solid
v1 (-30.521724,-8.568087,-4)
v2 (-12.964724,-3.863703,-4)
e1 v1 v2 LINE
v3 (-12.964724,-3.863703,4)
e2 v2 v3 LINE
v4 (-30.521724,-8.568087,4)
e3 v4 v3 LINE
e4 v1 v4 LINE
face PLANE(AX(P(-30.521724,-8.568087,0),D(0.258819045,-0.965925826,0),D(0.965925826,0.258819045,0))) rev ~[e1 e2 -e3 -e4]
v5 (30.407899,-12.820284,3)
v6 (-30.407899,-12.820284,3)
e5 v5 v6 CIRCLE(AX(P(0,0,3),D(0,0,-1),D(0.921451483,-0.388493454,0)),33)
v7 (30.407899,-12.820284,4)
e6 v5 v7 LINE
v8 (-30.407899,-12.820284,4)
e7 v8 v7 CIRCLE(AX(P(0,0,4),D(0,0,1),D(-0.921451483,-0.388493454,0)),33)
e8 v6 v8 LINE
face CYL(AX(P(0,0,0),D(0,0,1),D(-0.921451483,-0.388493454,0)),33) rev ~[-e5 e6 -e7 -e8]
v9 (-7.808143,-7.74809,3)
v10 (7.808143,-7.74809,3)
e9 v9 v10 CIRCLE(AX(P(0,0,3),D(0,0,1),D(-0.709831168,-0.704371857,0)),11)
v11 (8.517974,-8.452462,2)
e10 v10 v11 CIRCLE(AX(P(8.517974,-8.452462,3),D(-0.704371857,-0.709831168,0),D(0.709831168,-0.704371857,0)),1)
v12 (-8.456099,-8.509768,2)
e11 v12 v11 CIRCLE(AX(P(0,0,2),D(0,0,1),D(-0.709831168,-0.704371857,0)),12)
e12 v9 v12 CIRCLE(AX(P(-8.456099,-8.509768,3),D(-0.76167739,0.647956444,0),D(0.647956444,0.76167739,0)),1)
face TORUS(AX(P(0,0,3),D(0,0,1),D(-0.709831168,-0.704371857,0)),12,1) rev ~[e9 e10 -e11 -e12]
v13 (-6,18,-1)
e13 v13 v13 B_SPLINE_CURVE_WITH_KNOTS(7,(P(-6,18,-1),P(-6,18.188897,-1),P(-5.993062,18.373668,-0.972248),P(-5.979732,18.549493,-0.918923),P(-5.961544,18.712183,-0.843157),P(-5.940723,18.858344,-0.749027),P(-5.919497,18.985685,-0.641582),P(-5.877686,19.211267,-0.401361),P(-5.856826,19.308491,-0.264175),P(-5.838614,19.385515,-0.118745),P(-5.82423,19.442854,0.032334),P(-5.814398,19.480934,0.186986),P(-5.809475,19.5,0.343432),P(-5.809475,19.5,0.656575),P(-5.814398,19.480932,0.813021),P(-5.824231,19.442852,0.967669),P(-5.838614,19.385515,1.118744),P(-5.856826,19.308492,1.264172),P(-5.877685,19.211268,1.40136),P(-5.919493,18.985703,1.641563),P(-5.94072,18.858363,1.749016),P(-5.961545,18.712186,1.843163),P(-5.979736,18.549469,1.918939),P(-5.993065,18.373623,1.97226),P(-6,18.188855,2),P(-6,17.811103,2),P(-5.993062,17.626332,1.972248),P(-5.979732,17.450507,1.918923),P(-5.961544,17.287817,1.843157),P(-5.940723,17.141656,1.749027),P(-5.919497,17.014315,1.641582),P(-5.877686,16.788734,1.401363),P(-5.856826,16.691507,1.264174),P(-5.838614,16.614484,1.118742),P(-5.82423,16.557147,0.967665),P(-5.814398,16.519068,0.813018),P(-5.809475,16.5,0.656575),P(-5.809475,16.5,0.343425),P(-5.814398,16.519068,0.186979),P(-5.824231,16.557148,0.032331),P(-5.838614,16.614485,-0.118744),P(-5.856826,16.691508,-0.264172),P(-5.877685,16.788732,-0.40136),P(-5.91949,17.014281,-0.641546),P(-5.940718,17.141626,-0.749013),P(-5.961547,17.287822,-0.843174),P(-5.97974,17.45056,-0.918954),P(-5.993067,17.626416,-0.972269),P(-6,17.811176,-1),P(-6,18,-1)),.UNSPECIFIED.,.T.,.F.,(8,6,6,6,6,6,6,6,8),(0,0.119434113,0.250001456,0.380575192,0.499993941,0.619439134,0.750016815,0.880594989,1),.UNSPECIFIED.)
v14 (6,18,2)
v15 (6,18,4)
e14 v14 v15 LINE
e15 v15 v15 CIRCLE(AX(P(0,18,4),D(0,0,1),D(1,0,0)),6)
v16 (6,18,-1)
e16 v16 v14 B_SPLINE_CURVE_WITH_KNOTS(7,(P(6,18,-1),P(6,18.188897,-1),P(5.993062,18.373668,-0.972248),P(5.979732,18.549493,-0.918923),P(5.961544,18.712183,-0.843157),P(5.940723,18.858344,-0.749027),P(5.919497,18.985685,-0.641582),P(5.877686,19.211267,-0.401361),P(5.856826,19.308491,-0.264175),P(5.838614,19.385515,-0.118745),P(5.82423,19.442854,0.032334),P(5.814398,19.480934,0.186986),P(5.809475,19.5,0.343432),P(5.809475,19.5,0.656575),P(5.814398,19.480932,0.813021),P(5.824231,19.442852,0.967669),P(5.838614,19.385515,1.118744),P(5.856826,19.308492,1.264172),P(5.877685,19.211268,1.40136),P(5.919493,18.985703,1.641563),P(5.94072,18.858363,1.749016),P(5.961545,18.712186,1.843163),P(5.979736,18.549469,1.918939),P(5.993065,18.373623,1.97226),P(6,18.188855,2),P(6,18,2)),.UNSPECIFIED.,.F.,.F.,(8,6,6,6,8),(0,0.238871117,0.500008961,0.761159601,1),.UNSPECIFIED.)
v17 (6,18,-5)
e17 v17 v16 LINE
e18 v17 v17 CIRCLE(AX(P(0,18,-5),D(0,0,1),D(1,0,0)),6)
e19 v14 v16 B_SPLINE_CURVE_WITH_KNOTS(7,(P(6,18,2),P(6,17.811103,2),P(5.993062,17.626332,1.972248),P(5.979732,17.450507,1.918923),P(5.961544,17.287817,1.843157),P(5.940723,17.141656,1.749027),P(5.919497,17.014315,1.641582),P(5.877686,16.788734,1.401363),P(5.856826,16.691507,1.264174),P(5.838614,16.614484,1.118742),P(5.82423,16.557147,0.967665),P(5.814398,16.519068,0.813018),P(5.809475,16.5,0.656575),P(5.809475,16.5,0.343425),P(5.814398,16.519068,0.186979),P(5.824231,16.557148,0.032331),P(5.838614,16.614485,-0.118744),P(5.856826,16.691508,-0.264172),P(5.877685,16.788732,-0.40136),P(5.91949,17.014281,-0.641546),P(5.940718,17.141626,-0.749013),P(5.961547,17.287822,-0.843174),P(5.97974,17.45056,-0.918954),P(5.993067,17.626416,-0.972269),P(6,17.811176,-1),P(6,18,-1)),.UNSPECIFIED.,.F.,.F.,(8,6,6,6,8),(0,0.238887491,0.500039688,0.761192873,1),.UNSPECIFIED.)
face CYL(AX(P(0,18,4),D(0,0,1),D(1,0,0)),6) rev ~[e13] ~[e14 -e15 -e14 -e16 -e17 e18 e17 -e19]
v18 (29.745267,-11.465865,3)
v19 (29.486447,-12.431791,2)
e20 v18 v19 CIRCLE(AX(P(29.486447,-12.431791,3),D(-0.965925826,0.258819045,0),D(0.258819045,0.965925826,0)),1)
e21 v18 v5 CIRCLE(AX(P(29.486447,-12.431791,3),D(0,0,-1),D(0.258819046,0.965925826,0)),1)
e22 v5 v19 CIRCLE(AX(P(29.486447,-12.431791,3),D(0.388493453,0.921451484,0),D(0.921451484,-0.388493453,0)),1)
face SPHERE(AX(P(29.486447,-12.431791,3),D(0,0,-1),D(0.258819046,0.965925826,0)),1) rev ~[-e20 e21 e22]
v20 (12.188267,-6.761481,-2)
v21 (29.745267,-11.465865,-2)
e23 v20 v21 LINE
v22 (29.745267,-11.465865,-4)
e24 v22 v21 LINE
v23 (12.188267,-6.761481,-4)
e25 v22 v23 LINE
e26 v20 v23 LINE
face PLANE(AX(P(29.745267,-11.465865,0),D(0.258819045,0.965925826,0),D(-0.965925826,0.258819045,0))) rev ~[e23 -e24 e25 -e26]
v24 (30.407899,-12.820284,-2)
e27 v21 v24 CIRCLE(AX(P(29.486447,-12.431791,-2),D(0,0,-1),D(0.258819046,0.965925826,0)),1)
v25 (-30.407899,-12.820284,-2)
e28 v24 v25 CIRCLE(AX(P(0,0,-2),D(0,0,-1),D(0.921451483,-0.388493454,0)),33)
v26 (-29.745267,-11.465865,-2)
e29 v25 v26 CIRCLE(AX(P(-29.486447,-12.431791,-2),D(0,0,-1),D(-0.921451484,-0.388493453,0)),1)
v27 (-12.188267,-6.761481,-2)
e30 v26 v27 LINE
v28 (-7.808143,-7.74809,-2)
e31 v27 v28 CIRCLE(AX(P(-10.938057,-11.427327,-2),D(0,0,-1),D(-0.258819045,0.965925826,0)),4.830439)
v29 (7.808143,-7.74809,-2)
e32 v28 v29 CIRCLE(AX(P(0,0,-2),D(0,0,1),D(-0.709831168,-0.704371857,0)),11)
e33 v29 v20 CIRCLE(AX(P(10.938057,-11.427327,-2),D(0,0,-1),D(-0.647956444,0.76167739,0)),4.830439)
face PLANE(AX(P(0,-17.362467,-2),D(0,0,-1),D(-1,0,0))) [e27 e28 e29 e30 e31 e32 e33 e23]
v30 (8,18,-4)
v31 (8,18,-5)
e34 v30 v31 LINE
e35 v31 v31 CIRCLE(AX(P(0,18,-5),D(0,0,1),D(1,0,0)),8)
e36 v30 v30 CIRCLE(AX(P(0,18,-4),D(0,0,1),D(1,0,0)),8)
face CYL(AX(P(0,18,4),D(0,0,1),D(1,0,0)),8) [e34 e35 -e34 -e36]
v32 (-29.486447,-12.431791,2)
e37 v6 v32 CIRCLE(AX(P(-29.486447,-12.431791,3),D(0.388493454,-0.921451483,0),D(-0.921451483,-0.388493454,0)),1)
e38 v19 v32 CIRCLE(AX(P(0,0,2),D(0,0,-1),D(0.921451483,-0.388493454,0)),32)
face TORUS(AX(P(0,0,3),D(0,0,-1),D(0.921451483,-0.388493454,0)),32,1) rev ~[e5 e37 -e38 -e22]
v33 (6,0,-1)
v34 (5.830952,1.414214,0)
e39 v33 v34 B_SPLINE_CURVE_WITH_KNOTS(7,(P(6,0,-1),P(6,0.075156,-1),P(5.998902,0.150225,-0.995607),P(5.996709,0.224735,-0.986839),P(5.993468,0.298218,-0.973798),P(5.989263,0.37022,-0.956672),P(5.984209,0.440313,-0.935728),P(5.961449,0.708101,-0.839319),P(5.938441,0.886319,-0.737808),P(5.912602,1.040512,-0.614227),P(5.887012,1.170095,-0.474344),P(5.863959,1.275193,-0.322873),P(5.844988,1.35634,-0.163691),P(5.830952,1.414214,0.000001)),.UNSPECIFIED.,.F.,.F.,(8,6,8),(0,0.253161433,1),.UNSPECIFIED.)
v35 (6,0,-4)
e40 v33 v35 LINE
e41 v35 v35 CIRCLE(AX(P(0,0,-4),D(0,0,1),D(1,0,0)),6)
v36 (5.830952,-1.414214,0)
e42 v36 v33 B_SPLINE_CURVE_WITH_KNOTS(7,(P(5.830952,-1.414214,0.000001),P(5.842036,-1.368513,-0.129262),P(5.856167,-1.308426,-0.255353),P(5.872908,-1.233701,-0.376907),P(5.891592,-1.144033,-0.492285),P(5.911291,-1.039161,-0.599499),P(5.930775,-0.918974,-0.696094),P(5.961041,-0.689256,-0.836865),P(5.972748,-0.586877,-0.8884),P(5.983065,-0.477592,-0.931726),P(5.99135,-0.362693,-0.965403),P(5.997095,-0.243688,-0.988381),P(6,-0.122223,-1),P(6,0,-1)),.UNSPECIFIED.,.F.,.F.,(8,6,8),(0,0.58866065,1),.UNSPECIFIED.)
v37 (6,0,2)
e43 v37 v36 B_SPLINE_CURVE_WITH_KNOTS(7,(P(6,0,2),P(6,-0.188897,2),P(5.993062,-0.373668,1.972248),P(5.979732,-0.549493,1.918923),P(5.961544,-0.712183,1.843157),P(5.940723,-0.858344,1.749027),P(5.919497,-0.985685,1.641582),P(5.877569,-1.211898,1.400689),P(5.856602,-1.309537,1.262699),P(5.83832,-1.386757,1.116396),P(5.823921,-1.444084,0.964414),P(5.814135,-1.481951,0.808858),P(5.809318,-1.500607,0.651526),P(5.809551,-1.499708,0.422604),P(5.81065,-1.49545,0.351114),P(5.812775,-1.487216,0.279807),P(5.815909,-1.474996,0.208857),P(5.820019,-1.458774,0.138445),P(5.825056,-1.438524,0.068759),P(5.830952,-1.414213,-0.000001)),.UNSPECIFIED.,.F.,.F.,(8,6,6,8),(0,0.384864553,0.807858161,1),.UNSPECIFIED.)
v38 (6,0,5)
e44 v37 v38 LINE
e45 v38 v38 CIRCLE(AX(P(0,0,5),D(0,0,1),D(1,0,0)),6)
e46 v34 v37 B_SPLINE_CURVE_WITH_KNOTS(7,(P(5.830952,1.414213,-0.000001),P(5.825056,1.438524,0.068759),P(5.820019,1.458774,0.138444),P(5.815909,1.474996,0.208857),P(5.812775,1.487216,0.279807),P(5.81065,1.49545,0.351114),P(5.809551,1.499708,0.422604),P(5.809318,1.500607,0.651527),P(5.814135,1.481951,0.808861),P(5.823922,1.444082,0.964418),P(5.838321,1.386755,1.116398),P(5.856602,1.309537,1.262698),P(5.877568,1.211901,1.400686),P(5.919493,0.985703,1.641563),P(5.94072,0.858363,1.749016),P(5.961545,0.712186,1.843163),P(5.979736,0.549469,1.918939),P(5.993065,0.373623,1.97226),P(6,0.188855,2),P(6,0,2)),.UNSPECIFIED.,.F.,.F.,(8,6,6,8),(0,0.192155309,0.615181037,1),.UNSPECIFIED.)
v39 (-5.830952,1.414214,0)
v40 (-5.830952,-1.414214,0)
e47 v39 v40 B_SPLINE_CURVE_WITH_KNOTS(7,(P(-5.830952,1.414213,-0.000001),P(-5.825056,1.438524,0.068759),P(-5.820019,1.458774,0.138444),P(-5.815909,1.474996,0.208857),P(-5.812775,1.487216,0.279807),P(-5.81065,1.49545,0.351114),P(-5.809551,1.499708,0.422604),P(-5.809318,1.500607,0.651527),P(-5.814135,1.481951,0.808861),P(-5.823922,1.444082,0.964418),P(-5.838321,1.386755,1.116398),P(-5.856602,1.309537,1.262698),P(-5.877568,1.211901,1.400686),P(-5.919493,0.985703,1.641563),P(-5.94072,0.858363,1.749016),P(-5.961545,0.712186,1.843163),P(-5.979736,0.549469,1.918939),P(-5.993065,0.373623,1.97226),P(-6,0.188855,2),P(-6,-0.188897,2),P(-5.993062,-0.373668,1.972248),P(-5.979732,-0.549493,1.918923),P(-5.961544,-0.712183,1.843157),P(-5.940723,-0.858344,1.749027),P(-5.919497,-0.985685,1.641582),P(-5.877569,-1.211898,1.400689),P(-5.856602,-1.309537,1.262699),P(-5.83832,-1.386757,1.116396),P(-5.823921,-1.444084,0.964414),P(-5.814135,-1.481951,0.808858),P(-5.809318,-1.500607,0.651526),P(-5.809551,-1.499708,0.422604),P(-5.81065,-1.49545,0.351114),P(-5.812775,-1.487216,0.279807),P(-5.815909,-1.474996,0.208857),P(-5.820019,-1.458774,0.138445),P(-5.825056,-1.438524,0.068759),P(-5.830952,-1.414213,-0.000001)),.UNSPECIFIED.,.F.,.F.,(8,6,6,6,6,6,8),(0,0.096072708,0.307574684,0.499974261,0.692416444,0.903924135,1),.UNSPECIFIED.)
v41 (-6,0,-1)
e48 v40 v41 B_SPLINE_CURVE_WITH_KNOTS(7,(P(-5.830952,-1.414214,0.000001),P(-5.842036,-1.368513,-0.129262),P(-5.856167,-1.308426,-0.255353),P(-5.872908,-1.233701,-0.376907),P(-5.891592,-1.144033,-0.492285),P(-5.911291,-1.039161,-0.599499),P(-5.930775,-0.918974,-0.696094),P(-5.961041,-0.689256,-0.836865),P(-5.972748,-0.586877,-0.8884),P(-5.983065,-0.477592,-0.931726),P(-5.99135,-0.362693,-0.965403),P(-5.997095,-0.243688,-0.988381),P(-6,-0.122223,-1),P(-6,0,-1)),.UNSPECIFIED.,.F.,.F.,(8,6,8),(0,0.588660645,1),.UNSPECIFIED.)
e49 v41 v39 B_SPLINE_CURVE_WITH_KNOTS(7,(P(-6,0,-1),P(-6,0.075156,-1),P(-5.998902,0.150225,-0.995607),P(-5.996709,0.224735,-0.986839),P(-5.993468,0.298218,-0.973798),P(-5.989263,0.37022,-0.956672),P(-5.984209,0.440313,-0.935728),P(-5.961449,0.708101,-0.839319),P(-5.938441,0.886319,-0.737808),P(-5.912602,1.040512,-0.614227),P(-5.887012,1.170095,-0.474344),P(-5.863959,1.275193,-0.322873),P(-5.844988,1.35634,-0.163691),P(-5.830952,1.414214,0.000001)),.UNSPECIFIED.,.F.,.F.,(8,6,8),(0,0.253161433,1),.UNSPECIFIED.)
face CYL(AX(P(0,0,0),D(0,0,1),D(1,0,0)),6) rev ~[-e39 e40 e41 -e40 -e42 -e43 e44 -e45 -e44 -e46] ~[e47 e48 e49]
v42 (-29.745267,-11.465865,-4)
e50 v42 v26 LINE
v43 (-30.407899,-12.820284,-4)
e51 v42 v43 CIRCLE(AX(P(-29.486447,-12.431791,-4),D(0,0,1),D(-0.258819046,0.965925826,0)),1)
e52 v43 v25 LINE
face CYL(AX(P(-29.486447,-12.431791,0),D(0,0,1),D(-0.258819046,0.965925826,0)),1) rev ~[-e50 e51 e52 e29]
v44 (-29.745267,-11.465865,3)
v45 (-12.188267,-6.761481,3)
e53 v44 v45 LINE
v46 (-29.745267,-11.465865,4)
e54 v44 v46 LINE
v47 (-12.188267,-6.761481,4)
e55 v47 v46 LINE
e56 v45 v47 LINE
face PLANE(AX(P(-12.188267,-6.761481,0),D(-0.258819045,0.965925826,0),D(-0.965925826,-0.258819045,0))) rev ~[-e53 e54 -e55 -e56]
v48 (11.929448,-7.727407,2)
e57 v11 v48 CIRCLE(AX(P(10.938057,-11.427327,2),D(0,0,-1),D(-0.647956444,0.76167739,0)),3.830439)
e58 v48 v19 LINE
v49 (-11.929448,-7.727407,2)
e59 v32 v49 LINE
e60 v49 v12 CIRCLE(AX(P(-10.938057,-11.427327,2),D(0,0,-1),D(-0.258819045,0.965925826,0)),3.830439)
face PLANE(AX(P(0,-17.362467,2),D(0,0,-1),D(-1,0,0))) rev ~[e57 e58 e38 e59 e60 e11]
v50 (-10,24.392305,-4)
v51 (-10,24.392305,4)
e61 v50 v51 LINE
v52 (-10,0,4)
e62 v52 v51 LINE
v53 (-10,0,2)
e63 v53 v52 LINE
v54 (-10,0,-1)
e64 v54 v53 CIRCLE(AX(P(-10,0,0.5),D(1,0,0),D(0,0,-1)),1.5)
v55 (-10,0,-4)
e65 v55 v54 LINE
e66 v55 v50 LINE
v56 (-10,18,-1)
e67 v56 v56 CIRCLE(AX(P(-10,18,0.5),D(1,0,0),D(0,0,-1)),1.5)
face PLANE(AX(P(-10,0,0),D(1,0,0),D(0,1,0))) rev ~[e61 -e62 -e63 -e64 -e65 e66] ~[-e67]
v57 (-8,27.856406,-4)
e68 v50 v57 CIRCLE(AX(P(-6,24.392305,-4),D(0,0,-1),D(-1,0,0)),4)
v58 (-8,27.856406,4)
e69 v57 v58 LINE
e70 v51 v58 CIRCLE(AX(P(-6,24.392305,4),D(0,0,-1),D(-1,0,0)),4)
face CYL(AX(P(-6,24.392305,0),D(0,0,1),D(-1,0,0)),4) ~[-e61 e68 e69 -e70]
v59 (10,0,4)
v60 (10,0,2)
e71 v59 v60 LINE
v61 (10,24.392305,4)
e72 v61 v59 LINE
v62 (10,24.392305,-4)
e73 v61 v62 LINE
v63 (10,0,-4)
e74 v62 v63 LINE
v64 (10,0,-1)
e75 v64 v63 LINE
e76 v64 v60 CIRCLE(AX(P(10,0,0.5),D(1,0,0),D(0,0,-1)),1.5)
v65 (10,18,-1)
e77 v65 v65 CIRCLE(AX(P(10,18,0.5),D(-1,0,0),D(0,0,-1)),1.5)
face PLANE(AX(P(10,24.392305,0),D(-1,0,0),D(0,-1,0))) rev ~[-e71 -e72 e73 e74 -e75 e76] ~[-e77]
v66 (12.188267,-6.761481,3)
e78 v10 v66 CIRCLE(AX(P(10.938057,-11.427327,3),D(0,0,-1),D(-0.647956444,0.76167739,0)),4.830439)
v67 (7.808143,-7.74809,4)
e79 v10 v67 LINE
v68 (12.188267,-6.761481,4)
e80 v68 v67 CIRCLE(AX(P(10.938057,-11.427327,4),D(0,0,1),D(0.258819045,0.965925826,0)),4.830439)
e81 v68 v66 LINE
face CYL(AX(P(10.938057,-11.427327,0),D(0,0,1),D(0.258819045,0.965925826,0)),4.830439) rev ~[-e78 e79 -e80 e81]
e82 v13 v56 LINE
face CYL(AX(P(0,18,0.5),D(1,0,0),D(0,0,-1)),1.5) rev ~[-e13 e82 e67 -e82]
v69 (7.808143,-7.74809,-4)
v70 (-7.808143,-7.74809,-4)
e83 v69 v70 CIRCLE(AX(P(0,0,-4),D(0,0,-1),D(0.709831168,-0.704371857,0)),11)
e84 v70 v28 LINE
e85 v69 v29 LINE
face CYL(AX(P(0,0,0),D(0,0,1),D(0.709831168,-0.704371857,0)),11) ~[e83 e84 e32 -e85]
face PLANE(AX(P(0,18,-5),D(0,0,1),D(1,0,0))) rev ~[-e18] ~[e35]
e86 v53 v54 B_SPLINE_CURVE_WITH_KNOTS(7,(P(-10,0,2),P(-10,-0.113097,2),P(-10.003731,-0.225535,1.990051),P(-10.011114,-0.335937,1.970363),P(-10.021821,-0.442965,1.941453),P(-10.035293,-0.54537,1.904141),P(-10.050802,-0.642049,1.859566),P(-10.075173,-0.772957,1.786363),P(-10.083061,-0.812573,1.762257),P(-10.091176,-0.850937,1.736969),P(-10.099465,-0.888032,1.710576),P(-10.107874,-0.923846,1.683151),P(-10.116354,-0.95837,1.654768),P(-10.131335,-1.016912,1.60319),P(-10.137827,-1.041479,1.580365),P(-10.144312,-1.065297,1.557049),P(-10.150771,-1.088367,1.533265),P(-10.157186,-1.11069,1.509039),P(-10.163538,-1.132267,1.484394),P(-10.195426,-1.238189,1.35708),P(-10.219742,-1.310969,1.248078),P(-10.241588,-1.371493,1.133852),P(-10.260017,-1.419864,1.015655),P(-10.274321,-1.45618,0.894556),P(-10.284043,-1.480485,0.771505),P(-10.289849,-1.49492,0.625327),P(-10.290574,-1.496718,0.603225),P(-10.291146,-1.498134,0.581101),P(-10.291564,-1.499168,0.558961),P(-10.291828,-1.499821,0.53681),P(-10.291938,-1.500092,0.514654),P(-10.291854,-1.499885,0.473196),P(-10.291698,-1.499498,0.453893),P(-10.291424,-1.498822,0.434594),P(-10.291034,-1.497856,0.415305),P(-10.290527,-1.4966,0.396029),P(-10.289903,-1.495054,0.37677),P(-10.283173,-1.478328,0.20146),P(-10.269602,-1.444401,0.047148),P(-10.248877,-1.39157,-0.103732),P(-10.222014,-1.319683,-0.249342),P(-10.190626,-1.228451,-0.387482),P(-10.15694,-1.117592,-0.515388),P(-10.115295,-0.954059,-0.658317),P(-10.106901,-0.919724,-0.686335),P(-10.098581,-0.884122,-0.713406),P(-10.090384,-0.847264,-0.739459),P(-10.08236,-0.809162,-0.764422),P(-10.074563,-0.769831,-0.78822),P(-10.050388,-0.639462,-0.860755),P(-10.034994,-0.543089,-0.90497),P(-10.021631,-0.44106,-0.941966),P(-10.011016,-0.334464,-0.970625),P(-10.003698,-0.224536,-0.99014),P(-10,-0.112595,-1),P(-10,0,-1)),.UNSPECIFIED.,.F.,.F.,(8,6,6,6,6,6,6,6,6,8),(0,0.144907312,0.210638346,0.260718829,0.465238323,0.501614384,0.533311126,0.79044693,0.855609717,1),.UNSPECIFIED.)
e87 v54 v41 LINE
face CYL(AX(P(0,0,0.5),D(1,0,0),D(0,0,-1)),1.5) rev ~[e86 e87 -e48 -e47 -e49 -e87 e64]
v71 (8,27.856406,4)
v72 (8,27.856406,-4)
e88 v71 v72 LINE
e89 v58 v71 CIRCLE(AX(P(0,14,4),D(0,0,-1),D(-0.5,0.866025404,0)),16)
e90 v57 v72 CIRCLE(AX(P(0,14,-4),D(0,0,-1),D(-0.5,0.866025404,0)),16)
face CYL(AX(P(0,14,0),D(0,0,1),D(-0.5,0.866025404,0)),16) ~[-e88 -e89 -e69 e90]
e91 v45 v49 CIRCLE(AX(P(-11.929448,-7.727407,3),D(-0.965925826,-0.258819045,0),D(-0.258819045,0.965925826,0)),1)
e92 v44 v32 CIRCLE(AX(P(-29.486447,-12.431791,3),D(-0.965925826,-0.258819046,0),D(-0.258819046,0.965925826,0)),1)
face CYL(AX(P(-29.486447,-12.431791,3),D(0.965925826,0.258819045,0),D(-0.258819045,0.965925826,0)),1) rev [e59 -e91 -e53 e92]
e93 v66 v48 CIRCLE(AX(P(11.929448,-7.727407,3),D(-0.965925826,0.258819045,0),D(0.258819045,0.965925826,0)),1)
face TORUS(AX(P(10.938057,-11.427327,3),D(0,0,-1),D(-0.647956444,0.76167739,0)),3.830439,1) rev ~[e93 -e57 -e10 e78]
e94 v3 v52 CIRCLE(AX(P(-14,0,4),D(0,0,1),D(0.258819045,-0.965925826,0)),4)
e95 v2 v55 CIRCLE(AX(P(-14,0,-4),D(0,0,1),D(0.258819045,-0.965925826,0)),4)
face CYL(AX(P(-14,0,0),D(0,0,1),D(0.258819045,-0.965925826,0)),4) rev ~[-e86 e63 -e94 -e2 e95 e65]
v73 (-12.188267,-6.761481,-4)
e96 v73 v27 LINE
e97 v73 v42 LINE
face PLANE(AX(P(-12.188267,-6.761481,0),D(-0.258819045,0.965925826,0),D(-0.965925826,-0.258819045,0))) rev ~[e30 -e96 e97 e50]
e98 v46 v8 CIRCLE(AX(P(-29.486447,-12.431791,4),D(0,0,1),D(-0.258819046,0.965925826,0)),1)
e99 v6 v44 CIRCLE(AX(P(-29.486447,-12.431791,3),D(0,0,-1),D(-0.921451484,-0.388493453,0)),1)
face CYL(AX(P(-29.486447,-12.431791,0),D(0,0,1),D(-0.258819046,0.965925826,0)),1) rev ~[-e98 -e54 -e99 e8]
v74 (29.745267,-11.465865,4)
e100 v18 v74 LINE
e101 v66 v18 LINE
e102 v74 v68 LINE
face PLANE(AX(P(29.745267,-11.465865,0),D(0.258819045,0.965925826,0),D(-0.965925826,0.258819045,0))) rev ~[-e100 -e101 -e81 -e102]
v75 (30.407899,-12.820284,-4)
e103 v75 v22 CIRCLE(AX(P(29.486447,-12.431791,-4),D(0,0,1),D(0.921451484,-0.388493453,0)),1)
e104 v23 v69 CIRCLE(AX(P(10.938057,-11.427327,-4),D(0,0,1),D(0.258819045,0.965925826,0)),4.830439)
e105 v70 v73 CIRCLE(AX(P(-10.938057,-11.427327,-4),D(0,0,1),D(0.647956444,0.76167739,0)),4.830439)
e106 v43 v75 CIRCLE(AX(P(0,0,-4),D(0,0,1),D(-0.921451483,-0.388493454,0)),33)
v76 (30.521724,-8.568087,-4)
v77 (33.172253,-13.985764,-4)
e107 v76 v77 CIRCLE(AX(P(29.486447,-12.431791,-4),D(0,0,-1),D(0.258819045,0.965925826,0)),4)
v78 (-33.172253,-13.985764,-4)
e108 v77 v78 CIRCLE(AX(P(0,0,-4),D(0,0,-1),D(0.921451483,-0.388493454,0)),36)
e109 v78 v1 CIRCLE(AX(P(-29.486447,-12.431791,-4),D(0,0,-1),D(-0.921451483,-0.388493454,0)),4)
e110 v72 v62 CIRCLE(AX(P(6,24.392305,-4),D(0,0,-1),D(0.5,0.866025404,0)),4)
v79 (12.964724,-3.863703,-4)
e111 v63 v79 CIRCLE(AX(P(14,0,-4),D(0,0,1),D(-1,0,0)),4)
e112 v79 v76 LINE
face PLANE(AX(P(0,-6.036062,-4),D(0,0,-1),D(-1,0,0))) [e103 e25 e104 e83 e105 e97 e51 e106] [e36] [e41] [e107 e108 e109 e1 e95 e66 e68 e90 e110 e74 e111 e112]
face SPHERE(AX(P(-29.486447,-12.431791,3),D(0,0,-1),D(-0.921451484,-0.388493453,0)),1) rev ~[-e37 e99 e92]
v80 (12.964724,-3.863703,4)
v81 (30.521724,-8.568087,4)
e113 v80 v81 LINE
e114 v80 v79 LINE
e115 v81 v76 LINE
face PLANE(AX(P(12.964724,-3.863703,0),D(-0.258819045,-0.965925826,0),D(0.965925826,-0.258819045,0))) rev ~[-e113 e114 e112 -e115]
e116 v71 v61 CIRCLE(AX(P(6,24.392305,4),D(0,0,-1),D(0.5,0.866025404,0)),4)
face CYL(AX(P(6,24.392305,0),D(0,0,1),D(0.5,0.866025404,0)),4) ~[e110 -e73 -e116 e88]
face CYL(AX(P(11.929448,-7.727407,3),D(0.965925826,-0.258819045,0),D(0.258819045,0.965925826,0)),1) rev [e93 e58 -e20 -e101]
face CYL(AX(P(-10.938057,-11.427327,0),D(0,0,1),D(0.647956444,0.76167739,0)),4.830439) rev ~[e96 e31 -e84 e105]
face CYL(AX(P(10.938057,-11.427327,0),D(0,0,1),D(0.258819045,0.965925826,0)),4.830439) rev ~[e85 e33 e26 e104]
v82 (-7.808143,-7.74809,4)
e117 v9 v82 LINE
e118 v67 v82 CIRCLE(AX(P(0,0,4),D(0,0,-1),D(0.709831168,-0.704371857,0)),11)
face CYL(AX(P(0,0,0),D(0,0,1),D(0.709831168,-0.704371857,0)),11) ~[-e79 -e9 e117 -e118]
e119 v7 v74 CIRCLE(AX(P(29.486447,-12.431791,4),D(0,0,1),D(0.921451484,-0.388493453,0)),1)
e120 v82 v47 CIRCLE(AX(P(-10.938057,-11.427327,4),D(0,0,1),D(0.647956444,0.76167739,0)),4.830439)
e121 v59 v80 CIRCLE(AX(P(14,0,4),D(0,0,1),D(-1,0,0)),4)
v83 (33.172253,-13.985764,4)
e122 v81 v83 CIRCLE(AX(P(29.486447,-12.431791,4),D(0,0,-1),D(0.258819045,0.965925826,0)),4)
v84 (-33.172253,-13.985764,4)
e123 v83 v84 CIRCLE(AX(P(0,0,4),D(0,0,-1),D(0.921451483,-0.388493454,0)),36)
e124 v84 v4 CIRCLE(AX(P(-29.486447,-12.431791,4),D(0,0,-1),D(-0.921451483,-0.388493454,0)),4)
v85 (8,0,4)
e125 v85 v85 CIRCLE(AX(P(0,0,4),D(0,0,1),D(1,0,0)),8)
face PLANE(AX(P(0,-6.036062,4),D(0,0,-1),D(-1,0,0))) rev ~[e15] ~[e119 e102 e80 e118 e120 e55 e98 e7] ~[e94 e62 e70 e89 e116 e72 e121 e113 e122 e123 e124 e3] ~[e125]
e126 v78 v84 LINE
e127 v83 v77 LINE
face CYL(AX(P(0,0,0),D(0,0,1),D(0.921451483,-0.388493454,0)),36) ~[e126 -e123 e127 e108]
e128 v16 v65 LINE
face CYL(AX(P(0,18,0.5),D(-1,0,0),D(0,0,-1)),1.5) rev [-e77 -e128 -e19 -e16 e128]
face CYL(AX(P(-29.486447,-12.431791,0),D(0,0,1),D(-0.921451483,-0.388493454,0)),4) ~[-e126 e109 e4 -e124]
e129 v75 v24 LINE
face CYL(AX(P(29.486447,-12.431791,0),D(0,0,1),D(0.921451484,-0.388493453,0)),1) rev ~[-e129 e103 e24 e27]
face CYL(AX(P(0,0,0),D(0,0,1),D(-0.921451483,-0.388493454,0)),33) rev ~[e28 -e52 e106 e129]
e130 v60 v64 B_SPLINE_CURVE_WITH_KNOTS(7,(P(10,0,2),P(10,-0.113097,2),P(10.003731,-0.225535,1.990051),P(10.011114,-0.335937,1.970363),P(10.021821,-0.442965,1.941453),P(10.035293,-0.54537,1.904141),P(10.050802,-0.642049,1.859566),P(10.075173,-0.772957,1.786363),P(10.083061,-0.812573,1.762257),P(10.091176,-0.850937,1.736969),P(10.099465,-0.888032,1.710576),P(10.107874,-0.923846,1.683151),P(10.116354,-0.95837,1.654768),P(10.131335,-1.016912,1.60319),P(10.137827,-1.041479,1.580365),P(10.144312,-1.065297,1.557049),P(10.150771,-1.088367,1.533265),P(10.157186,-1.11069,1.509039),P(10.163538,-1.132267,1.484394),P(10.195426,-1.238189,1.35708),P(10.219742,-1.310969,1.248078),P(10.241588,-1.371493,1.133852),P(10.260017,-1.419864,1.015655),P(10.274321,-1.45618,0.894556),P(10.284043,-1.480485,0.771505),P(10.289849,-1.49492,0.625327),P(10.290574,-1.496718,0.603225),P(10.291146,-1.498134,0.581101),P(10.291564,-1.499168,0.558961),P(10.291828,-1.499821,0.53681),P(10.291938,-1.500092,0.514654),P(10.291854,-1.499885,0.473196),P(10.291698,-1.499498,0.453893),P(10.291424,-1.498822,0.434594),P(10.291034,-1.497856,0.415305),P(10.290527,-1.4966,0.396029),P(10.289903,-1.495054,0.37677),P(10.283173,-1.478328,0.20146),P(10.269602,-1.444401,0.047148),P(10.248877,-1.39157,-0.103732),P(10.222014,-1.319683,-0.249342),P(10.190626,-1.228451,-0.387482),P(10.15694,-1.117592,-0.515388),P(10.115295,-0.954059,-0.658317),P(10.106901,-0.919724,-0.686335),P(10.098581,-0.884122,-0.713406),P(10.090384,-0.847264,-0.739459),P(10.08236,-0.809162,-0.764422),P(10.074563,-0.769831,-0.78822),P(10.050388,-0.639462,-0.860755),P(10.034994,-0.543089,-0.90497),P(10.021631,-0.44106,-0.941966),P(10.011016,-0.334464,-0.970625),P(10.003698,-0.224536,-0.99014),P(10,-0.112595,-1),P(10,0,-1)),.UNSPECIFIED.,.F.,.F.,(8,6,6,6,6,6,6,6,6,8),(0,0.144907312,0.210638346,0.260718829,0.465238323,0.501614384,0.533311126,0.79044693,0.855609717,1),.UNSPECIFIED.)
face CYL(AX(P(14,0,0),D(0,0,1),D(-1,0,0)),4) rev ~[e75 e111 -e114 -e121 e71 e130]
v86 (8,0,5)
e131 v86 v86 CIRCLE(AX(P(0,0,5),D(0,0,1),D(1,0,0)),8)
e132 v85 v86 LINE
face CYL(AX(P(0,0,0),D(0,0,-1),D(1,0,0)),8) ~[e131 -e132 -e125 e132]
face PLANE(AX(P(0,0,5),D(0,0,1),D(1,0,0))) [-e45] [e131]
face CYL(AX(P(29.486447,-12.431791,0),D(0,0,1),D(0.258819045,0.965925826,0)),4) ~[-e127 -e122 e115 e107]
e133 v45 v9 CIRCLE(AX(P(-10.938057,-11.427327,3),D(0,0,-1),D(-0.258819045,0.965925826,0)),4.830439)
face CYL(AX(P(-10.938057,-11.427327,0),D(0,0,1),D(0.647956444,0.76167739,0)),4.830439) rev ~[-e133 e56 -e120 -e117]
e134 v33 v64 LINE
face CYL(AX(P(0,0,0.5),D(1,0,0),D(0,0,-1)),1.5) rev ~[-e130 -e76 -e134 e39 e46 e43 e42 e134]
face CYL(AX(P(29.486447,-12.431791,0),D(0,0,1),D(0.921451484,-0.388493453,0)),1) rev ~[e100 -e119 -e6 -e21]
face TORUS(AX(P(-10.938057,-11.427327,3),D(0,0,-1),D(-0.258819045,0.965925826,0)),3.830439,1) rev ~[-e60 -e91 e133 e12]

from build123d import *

# Parameters (mm, degrees)
SKETCH1_R           = 8
SKETCH1_R_2         = 6
BOSS_EXTRUDE2_DEPTH = 5
BOSS_EXTRUDE3_START = 4
SKETCH1_4_R         = 8
SKETCH1_4_R_2       = 6
BOSS_EXTRUDE3_DEPTH = 4
SKETCH1_8_R         = 8
SKETCH1_8_R_2       = 6
BOSS_EXTRUDE4_DEPTH = 4
SKETCH1_9_R         = 8
SKETCH1_9_R_2       = 6
BOSS_EXTRUDE5_DEPTH = 5
SKETCH1_10_R        = 8
BOSS_EXTRUDE6_DEPTH = 4
BOSS_EXTRUDE7_DEPTH = 2
SKETCH2_R           = 1.5
CUT_EXTRUDE1_DEPTH  = 74
FILLET2_R           = 1


with BuildPart() as part:
    # Sketch1 → Boss-Extrude2 (new body)
    with BuildSketch(Plane.XY):
        with Locations((0, 18)):
            Circle(SKETCH1_R)
        with Locations((0, 18)):
            Circle(SKETCH1_R_2, mode=Mode.SUBTRACT)
    extrude(amount=-BOSS_EXTRUDE2_DEPTH)

    # Sketch1<4> → Boss-Extrude3 (add)
    with BuildSketch(Plane.XY.offset(BOSS_EXTRUDE3_START)):
        with Locations((0, 18)):
            Circle(SKETCH1_4_R)
        with Locations((0, 18)):
            Circle(SKETCH1_4_R_2, mode=Mode.SUBTRACT)
    extrude(amount=-BOSS_EXTRUDE3_DEPTH)



with BuildPart() as body_2:
    # Sketch1<8> → Boss-Extrude4 (new body)
    with BuildSketch(Plane.XY):
        Circle(SKETCH1_8_R)
        Circle(SKETCH1_8_R_2, mode=Mode.SUBTRACT)
    extrude(amount=-BOSS_EXTRUDE4_DEPTH)

    # Sketch1<9> → Boss-Extrude5 (add)
    with BuildSketch(Plane.XY):
        Circle(SKETCH1_9_R)
        Circle(SKETCH1_9_R_2, mode=Mode.SUBTRACT)
    extrude(amount=BOSS_EXTRUDE5_DEPTH)


with BuildPart() as part_1:
    add(part.part)

    add(body_2.part)  # Boss-Extrude6 merges body 2
    # Sketch1<10> → Boss-Extrude6 (add, symmetric)
    with BuildSketch(Plane.XY):
        with BuildLine():
            ThreePointArc((-8, 27.856406461), (0, 30), (8, 27.856406461))
            ThreePointArc((8, 27.856406461), (9.464101615, 26.392304845), (10, 24.392304845))
            Line((10, 24.392304845), (10, 0))
            ThreePointArc((10, 0), (10.826586639, -2.435045716), (12.96472382, -3.863703305))
            Line((12.96472382, -3.863703305), (30.521723645, -8.56808723))
            ThreePointArc((30.521723645, -8.56808723), (33.079490803, -10.673939697), (33.172253398, -13.985764352))
            ThreePointArc((33.172253398, -13.985764352), (0, -36), (-33.172253398, -13.985764352))
            ThreePointArc((-33.172253398, -13.985764352), (-33.079490803, -10.673939697), (-30.521723645, -8.56808723))
            Line((-30.521723645, -8.56808723), (-12.96472382, -3.863703305))
            ThreePointArc((-12.96472382, -3.863703305), (-10.826586639, -2.435045716), (-10, 0))
            Line((-10, 0), (-10, 24.392304845))
            ThreePointArc((-10, 24.392304845), (-9.464101615, 26.392304845), (-8, 27.856406461))
        make_face()
        with Locations((0, 18)):
            Circle(SKETCH1_10_R, mode=Mode.SUBTRACT)
        Circle(SKETCH1_10_R, mode=Mode.SUBTRACT)
        with BuildLine():
            ThreePointArc((12.188266684, -6.761480784), (9.876608994, -6.714952527), (7.808142843, -7.748090432))
            ThreePointArc((7.808142843, -7.748090432), (0, -11), (-7.808142843, -7.748090432))
            ThreePointArc((-7.808142843, -7.748090432), (-9.876608994, -6.714952527), (-12.188266684, -6.761480784))
            Line((-12.188266684, -6.761480784), (-29.74526651, -11.465864709))
            ThreePointArc((-29.74526651, -11.465864709), (-30.384708299, -11.992327826), (-30.407898948, -12.820283989))
            ThreePointArc((-30.407898948, -12.820283989), (0, -33), (30.407898948, -12.820283989))
            ThreePointArc((30.407898948, -12.820283989), (30.384708299, -11.992327826), (29.74526651, -11.465864709))
            Line((29.74526651, -11.465864709), (12.188266684, -6.761480784))
        make_face(mode=Mode.SUBTRACT)
    extrude(amount=BOSS_EXTRUDE6_DEPTH, both=True)

    # Sketch1<11> → Boss-Extrude7 (add, symmetric)
    with BuildSketch(Plane.XY):
        with BuildLine():
            Line((12.188266684, -6.761480784), (29.74526651, -11.465864709))
            ThreePointArc((29.74526651, -11.465864709), (30.384708299, -11.992327826), (30.407898948, -12.820283989))
            ThreePointArc((30.407898948, -12.820283989), (0, -33), (-30.407898948, -12.820283989))
            ThreePointArc((-30.407898948, -12.820283989), (-30.384708299, -11.992327826), (-29.74526651, -11.465864709))
            Line((-29.74526651, -11.465864709), (-12.188266684, -6.761480784))
            ThreePointArc((-12.188266684, -6.761480784), (-9.876608994, -6.714952527), (-7.808142843, -7.748090432))
            ThreePointArc((-7.808142843, -7.748090432), (0, -11), (7.808142843, -7.748090432))
            ThreePointArc((7.808142843, -7.748090432), (9.876608994, -6.714952527), (12.188266684, -6.761480784))
        make_face()
    extrude(amount=BOSS_EXTRUDE7_DEPTH, both=True)

    # Sketch2 → Cut-Extrude1 (cut, symmetric)
    with BuildSketch(Plane(origin=(0, 0, 0), x_dir=(0, 0, -1), z_dir=(1, 0, 0))):
        with Locations((-0.5, 18)):
            Circle(SKETCH2_R)
        with Locations((-0.5, 0)):
            Circle(SKETCH2_R)
    extrude(amount=CUT_EXTRUDE1_DEPTH, both=True, mode=Mode.SUBTRACT)

    # Fillet2
    fillet2_edges = [part_1.edges().sort_by_distance(p)[0] for p in [
        (20.966766597, -9.113672746, 2),
        (0, -11, 2),
        (-9.876608994, -6.714952527, 2),
        (0, -33, 2),
        (30.384708299, -11.992327826, 2),
        (9.876608994, -6.714952527, 2),
        (-20.966766597, -9.113672746, 2),
        (-30.384708299, -11.992327826, 2),
    ]]
    fillet(fillet2_edges, radius=FILLET2_R)


solid = part_1.part
